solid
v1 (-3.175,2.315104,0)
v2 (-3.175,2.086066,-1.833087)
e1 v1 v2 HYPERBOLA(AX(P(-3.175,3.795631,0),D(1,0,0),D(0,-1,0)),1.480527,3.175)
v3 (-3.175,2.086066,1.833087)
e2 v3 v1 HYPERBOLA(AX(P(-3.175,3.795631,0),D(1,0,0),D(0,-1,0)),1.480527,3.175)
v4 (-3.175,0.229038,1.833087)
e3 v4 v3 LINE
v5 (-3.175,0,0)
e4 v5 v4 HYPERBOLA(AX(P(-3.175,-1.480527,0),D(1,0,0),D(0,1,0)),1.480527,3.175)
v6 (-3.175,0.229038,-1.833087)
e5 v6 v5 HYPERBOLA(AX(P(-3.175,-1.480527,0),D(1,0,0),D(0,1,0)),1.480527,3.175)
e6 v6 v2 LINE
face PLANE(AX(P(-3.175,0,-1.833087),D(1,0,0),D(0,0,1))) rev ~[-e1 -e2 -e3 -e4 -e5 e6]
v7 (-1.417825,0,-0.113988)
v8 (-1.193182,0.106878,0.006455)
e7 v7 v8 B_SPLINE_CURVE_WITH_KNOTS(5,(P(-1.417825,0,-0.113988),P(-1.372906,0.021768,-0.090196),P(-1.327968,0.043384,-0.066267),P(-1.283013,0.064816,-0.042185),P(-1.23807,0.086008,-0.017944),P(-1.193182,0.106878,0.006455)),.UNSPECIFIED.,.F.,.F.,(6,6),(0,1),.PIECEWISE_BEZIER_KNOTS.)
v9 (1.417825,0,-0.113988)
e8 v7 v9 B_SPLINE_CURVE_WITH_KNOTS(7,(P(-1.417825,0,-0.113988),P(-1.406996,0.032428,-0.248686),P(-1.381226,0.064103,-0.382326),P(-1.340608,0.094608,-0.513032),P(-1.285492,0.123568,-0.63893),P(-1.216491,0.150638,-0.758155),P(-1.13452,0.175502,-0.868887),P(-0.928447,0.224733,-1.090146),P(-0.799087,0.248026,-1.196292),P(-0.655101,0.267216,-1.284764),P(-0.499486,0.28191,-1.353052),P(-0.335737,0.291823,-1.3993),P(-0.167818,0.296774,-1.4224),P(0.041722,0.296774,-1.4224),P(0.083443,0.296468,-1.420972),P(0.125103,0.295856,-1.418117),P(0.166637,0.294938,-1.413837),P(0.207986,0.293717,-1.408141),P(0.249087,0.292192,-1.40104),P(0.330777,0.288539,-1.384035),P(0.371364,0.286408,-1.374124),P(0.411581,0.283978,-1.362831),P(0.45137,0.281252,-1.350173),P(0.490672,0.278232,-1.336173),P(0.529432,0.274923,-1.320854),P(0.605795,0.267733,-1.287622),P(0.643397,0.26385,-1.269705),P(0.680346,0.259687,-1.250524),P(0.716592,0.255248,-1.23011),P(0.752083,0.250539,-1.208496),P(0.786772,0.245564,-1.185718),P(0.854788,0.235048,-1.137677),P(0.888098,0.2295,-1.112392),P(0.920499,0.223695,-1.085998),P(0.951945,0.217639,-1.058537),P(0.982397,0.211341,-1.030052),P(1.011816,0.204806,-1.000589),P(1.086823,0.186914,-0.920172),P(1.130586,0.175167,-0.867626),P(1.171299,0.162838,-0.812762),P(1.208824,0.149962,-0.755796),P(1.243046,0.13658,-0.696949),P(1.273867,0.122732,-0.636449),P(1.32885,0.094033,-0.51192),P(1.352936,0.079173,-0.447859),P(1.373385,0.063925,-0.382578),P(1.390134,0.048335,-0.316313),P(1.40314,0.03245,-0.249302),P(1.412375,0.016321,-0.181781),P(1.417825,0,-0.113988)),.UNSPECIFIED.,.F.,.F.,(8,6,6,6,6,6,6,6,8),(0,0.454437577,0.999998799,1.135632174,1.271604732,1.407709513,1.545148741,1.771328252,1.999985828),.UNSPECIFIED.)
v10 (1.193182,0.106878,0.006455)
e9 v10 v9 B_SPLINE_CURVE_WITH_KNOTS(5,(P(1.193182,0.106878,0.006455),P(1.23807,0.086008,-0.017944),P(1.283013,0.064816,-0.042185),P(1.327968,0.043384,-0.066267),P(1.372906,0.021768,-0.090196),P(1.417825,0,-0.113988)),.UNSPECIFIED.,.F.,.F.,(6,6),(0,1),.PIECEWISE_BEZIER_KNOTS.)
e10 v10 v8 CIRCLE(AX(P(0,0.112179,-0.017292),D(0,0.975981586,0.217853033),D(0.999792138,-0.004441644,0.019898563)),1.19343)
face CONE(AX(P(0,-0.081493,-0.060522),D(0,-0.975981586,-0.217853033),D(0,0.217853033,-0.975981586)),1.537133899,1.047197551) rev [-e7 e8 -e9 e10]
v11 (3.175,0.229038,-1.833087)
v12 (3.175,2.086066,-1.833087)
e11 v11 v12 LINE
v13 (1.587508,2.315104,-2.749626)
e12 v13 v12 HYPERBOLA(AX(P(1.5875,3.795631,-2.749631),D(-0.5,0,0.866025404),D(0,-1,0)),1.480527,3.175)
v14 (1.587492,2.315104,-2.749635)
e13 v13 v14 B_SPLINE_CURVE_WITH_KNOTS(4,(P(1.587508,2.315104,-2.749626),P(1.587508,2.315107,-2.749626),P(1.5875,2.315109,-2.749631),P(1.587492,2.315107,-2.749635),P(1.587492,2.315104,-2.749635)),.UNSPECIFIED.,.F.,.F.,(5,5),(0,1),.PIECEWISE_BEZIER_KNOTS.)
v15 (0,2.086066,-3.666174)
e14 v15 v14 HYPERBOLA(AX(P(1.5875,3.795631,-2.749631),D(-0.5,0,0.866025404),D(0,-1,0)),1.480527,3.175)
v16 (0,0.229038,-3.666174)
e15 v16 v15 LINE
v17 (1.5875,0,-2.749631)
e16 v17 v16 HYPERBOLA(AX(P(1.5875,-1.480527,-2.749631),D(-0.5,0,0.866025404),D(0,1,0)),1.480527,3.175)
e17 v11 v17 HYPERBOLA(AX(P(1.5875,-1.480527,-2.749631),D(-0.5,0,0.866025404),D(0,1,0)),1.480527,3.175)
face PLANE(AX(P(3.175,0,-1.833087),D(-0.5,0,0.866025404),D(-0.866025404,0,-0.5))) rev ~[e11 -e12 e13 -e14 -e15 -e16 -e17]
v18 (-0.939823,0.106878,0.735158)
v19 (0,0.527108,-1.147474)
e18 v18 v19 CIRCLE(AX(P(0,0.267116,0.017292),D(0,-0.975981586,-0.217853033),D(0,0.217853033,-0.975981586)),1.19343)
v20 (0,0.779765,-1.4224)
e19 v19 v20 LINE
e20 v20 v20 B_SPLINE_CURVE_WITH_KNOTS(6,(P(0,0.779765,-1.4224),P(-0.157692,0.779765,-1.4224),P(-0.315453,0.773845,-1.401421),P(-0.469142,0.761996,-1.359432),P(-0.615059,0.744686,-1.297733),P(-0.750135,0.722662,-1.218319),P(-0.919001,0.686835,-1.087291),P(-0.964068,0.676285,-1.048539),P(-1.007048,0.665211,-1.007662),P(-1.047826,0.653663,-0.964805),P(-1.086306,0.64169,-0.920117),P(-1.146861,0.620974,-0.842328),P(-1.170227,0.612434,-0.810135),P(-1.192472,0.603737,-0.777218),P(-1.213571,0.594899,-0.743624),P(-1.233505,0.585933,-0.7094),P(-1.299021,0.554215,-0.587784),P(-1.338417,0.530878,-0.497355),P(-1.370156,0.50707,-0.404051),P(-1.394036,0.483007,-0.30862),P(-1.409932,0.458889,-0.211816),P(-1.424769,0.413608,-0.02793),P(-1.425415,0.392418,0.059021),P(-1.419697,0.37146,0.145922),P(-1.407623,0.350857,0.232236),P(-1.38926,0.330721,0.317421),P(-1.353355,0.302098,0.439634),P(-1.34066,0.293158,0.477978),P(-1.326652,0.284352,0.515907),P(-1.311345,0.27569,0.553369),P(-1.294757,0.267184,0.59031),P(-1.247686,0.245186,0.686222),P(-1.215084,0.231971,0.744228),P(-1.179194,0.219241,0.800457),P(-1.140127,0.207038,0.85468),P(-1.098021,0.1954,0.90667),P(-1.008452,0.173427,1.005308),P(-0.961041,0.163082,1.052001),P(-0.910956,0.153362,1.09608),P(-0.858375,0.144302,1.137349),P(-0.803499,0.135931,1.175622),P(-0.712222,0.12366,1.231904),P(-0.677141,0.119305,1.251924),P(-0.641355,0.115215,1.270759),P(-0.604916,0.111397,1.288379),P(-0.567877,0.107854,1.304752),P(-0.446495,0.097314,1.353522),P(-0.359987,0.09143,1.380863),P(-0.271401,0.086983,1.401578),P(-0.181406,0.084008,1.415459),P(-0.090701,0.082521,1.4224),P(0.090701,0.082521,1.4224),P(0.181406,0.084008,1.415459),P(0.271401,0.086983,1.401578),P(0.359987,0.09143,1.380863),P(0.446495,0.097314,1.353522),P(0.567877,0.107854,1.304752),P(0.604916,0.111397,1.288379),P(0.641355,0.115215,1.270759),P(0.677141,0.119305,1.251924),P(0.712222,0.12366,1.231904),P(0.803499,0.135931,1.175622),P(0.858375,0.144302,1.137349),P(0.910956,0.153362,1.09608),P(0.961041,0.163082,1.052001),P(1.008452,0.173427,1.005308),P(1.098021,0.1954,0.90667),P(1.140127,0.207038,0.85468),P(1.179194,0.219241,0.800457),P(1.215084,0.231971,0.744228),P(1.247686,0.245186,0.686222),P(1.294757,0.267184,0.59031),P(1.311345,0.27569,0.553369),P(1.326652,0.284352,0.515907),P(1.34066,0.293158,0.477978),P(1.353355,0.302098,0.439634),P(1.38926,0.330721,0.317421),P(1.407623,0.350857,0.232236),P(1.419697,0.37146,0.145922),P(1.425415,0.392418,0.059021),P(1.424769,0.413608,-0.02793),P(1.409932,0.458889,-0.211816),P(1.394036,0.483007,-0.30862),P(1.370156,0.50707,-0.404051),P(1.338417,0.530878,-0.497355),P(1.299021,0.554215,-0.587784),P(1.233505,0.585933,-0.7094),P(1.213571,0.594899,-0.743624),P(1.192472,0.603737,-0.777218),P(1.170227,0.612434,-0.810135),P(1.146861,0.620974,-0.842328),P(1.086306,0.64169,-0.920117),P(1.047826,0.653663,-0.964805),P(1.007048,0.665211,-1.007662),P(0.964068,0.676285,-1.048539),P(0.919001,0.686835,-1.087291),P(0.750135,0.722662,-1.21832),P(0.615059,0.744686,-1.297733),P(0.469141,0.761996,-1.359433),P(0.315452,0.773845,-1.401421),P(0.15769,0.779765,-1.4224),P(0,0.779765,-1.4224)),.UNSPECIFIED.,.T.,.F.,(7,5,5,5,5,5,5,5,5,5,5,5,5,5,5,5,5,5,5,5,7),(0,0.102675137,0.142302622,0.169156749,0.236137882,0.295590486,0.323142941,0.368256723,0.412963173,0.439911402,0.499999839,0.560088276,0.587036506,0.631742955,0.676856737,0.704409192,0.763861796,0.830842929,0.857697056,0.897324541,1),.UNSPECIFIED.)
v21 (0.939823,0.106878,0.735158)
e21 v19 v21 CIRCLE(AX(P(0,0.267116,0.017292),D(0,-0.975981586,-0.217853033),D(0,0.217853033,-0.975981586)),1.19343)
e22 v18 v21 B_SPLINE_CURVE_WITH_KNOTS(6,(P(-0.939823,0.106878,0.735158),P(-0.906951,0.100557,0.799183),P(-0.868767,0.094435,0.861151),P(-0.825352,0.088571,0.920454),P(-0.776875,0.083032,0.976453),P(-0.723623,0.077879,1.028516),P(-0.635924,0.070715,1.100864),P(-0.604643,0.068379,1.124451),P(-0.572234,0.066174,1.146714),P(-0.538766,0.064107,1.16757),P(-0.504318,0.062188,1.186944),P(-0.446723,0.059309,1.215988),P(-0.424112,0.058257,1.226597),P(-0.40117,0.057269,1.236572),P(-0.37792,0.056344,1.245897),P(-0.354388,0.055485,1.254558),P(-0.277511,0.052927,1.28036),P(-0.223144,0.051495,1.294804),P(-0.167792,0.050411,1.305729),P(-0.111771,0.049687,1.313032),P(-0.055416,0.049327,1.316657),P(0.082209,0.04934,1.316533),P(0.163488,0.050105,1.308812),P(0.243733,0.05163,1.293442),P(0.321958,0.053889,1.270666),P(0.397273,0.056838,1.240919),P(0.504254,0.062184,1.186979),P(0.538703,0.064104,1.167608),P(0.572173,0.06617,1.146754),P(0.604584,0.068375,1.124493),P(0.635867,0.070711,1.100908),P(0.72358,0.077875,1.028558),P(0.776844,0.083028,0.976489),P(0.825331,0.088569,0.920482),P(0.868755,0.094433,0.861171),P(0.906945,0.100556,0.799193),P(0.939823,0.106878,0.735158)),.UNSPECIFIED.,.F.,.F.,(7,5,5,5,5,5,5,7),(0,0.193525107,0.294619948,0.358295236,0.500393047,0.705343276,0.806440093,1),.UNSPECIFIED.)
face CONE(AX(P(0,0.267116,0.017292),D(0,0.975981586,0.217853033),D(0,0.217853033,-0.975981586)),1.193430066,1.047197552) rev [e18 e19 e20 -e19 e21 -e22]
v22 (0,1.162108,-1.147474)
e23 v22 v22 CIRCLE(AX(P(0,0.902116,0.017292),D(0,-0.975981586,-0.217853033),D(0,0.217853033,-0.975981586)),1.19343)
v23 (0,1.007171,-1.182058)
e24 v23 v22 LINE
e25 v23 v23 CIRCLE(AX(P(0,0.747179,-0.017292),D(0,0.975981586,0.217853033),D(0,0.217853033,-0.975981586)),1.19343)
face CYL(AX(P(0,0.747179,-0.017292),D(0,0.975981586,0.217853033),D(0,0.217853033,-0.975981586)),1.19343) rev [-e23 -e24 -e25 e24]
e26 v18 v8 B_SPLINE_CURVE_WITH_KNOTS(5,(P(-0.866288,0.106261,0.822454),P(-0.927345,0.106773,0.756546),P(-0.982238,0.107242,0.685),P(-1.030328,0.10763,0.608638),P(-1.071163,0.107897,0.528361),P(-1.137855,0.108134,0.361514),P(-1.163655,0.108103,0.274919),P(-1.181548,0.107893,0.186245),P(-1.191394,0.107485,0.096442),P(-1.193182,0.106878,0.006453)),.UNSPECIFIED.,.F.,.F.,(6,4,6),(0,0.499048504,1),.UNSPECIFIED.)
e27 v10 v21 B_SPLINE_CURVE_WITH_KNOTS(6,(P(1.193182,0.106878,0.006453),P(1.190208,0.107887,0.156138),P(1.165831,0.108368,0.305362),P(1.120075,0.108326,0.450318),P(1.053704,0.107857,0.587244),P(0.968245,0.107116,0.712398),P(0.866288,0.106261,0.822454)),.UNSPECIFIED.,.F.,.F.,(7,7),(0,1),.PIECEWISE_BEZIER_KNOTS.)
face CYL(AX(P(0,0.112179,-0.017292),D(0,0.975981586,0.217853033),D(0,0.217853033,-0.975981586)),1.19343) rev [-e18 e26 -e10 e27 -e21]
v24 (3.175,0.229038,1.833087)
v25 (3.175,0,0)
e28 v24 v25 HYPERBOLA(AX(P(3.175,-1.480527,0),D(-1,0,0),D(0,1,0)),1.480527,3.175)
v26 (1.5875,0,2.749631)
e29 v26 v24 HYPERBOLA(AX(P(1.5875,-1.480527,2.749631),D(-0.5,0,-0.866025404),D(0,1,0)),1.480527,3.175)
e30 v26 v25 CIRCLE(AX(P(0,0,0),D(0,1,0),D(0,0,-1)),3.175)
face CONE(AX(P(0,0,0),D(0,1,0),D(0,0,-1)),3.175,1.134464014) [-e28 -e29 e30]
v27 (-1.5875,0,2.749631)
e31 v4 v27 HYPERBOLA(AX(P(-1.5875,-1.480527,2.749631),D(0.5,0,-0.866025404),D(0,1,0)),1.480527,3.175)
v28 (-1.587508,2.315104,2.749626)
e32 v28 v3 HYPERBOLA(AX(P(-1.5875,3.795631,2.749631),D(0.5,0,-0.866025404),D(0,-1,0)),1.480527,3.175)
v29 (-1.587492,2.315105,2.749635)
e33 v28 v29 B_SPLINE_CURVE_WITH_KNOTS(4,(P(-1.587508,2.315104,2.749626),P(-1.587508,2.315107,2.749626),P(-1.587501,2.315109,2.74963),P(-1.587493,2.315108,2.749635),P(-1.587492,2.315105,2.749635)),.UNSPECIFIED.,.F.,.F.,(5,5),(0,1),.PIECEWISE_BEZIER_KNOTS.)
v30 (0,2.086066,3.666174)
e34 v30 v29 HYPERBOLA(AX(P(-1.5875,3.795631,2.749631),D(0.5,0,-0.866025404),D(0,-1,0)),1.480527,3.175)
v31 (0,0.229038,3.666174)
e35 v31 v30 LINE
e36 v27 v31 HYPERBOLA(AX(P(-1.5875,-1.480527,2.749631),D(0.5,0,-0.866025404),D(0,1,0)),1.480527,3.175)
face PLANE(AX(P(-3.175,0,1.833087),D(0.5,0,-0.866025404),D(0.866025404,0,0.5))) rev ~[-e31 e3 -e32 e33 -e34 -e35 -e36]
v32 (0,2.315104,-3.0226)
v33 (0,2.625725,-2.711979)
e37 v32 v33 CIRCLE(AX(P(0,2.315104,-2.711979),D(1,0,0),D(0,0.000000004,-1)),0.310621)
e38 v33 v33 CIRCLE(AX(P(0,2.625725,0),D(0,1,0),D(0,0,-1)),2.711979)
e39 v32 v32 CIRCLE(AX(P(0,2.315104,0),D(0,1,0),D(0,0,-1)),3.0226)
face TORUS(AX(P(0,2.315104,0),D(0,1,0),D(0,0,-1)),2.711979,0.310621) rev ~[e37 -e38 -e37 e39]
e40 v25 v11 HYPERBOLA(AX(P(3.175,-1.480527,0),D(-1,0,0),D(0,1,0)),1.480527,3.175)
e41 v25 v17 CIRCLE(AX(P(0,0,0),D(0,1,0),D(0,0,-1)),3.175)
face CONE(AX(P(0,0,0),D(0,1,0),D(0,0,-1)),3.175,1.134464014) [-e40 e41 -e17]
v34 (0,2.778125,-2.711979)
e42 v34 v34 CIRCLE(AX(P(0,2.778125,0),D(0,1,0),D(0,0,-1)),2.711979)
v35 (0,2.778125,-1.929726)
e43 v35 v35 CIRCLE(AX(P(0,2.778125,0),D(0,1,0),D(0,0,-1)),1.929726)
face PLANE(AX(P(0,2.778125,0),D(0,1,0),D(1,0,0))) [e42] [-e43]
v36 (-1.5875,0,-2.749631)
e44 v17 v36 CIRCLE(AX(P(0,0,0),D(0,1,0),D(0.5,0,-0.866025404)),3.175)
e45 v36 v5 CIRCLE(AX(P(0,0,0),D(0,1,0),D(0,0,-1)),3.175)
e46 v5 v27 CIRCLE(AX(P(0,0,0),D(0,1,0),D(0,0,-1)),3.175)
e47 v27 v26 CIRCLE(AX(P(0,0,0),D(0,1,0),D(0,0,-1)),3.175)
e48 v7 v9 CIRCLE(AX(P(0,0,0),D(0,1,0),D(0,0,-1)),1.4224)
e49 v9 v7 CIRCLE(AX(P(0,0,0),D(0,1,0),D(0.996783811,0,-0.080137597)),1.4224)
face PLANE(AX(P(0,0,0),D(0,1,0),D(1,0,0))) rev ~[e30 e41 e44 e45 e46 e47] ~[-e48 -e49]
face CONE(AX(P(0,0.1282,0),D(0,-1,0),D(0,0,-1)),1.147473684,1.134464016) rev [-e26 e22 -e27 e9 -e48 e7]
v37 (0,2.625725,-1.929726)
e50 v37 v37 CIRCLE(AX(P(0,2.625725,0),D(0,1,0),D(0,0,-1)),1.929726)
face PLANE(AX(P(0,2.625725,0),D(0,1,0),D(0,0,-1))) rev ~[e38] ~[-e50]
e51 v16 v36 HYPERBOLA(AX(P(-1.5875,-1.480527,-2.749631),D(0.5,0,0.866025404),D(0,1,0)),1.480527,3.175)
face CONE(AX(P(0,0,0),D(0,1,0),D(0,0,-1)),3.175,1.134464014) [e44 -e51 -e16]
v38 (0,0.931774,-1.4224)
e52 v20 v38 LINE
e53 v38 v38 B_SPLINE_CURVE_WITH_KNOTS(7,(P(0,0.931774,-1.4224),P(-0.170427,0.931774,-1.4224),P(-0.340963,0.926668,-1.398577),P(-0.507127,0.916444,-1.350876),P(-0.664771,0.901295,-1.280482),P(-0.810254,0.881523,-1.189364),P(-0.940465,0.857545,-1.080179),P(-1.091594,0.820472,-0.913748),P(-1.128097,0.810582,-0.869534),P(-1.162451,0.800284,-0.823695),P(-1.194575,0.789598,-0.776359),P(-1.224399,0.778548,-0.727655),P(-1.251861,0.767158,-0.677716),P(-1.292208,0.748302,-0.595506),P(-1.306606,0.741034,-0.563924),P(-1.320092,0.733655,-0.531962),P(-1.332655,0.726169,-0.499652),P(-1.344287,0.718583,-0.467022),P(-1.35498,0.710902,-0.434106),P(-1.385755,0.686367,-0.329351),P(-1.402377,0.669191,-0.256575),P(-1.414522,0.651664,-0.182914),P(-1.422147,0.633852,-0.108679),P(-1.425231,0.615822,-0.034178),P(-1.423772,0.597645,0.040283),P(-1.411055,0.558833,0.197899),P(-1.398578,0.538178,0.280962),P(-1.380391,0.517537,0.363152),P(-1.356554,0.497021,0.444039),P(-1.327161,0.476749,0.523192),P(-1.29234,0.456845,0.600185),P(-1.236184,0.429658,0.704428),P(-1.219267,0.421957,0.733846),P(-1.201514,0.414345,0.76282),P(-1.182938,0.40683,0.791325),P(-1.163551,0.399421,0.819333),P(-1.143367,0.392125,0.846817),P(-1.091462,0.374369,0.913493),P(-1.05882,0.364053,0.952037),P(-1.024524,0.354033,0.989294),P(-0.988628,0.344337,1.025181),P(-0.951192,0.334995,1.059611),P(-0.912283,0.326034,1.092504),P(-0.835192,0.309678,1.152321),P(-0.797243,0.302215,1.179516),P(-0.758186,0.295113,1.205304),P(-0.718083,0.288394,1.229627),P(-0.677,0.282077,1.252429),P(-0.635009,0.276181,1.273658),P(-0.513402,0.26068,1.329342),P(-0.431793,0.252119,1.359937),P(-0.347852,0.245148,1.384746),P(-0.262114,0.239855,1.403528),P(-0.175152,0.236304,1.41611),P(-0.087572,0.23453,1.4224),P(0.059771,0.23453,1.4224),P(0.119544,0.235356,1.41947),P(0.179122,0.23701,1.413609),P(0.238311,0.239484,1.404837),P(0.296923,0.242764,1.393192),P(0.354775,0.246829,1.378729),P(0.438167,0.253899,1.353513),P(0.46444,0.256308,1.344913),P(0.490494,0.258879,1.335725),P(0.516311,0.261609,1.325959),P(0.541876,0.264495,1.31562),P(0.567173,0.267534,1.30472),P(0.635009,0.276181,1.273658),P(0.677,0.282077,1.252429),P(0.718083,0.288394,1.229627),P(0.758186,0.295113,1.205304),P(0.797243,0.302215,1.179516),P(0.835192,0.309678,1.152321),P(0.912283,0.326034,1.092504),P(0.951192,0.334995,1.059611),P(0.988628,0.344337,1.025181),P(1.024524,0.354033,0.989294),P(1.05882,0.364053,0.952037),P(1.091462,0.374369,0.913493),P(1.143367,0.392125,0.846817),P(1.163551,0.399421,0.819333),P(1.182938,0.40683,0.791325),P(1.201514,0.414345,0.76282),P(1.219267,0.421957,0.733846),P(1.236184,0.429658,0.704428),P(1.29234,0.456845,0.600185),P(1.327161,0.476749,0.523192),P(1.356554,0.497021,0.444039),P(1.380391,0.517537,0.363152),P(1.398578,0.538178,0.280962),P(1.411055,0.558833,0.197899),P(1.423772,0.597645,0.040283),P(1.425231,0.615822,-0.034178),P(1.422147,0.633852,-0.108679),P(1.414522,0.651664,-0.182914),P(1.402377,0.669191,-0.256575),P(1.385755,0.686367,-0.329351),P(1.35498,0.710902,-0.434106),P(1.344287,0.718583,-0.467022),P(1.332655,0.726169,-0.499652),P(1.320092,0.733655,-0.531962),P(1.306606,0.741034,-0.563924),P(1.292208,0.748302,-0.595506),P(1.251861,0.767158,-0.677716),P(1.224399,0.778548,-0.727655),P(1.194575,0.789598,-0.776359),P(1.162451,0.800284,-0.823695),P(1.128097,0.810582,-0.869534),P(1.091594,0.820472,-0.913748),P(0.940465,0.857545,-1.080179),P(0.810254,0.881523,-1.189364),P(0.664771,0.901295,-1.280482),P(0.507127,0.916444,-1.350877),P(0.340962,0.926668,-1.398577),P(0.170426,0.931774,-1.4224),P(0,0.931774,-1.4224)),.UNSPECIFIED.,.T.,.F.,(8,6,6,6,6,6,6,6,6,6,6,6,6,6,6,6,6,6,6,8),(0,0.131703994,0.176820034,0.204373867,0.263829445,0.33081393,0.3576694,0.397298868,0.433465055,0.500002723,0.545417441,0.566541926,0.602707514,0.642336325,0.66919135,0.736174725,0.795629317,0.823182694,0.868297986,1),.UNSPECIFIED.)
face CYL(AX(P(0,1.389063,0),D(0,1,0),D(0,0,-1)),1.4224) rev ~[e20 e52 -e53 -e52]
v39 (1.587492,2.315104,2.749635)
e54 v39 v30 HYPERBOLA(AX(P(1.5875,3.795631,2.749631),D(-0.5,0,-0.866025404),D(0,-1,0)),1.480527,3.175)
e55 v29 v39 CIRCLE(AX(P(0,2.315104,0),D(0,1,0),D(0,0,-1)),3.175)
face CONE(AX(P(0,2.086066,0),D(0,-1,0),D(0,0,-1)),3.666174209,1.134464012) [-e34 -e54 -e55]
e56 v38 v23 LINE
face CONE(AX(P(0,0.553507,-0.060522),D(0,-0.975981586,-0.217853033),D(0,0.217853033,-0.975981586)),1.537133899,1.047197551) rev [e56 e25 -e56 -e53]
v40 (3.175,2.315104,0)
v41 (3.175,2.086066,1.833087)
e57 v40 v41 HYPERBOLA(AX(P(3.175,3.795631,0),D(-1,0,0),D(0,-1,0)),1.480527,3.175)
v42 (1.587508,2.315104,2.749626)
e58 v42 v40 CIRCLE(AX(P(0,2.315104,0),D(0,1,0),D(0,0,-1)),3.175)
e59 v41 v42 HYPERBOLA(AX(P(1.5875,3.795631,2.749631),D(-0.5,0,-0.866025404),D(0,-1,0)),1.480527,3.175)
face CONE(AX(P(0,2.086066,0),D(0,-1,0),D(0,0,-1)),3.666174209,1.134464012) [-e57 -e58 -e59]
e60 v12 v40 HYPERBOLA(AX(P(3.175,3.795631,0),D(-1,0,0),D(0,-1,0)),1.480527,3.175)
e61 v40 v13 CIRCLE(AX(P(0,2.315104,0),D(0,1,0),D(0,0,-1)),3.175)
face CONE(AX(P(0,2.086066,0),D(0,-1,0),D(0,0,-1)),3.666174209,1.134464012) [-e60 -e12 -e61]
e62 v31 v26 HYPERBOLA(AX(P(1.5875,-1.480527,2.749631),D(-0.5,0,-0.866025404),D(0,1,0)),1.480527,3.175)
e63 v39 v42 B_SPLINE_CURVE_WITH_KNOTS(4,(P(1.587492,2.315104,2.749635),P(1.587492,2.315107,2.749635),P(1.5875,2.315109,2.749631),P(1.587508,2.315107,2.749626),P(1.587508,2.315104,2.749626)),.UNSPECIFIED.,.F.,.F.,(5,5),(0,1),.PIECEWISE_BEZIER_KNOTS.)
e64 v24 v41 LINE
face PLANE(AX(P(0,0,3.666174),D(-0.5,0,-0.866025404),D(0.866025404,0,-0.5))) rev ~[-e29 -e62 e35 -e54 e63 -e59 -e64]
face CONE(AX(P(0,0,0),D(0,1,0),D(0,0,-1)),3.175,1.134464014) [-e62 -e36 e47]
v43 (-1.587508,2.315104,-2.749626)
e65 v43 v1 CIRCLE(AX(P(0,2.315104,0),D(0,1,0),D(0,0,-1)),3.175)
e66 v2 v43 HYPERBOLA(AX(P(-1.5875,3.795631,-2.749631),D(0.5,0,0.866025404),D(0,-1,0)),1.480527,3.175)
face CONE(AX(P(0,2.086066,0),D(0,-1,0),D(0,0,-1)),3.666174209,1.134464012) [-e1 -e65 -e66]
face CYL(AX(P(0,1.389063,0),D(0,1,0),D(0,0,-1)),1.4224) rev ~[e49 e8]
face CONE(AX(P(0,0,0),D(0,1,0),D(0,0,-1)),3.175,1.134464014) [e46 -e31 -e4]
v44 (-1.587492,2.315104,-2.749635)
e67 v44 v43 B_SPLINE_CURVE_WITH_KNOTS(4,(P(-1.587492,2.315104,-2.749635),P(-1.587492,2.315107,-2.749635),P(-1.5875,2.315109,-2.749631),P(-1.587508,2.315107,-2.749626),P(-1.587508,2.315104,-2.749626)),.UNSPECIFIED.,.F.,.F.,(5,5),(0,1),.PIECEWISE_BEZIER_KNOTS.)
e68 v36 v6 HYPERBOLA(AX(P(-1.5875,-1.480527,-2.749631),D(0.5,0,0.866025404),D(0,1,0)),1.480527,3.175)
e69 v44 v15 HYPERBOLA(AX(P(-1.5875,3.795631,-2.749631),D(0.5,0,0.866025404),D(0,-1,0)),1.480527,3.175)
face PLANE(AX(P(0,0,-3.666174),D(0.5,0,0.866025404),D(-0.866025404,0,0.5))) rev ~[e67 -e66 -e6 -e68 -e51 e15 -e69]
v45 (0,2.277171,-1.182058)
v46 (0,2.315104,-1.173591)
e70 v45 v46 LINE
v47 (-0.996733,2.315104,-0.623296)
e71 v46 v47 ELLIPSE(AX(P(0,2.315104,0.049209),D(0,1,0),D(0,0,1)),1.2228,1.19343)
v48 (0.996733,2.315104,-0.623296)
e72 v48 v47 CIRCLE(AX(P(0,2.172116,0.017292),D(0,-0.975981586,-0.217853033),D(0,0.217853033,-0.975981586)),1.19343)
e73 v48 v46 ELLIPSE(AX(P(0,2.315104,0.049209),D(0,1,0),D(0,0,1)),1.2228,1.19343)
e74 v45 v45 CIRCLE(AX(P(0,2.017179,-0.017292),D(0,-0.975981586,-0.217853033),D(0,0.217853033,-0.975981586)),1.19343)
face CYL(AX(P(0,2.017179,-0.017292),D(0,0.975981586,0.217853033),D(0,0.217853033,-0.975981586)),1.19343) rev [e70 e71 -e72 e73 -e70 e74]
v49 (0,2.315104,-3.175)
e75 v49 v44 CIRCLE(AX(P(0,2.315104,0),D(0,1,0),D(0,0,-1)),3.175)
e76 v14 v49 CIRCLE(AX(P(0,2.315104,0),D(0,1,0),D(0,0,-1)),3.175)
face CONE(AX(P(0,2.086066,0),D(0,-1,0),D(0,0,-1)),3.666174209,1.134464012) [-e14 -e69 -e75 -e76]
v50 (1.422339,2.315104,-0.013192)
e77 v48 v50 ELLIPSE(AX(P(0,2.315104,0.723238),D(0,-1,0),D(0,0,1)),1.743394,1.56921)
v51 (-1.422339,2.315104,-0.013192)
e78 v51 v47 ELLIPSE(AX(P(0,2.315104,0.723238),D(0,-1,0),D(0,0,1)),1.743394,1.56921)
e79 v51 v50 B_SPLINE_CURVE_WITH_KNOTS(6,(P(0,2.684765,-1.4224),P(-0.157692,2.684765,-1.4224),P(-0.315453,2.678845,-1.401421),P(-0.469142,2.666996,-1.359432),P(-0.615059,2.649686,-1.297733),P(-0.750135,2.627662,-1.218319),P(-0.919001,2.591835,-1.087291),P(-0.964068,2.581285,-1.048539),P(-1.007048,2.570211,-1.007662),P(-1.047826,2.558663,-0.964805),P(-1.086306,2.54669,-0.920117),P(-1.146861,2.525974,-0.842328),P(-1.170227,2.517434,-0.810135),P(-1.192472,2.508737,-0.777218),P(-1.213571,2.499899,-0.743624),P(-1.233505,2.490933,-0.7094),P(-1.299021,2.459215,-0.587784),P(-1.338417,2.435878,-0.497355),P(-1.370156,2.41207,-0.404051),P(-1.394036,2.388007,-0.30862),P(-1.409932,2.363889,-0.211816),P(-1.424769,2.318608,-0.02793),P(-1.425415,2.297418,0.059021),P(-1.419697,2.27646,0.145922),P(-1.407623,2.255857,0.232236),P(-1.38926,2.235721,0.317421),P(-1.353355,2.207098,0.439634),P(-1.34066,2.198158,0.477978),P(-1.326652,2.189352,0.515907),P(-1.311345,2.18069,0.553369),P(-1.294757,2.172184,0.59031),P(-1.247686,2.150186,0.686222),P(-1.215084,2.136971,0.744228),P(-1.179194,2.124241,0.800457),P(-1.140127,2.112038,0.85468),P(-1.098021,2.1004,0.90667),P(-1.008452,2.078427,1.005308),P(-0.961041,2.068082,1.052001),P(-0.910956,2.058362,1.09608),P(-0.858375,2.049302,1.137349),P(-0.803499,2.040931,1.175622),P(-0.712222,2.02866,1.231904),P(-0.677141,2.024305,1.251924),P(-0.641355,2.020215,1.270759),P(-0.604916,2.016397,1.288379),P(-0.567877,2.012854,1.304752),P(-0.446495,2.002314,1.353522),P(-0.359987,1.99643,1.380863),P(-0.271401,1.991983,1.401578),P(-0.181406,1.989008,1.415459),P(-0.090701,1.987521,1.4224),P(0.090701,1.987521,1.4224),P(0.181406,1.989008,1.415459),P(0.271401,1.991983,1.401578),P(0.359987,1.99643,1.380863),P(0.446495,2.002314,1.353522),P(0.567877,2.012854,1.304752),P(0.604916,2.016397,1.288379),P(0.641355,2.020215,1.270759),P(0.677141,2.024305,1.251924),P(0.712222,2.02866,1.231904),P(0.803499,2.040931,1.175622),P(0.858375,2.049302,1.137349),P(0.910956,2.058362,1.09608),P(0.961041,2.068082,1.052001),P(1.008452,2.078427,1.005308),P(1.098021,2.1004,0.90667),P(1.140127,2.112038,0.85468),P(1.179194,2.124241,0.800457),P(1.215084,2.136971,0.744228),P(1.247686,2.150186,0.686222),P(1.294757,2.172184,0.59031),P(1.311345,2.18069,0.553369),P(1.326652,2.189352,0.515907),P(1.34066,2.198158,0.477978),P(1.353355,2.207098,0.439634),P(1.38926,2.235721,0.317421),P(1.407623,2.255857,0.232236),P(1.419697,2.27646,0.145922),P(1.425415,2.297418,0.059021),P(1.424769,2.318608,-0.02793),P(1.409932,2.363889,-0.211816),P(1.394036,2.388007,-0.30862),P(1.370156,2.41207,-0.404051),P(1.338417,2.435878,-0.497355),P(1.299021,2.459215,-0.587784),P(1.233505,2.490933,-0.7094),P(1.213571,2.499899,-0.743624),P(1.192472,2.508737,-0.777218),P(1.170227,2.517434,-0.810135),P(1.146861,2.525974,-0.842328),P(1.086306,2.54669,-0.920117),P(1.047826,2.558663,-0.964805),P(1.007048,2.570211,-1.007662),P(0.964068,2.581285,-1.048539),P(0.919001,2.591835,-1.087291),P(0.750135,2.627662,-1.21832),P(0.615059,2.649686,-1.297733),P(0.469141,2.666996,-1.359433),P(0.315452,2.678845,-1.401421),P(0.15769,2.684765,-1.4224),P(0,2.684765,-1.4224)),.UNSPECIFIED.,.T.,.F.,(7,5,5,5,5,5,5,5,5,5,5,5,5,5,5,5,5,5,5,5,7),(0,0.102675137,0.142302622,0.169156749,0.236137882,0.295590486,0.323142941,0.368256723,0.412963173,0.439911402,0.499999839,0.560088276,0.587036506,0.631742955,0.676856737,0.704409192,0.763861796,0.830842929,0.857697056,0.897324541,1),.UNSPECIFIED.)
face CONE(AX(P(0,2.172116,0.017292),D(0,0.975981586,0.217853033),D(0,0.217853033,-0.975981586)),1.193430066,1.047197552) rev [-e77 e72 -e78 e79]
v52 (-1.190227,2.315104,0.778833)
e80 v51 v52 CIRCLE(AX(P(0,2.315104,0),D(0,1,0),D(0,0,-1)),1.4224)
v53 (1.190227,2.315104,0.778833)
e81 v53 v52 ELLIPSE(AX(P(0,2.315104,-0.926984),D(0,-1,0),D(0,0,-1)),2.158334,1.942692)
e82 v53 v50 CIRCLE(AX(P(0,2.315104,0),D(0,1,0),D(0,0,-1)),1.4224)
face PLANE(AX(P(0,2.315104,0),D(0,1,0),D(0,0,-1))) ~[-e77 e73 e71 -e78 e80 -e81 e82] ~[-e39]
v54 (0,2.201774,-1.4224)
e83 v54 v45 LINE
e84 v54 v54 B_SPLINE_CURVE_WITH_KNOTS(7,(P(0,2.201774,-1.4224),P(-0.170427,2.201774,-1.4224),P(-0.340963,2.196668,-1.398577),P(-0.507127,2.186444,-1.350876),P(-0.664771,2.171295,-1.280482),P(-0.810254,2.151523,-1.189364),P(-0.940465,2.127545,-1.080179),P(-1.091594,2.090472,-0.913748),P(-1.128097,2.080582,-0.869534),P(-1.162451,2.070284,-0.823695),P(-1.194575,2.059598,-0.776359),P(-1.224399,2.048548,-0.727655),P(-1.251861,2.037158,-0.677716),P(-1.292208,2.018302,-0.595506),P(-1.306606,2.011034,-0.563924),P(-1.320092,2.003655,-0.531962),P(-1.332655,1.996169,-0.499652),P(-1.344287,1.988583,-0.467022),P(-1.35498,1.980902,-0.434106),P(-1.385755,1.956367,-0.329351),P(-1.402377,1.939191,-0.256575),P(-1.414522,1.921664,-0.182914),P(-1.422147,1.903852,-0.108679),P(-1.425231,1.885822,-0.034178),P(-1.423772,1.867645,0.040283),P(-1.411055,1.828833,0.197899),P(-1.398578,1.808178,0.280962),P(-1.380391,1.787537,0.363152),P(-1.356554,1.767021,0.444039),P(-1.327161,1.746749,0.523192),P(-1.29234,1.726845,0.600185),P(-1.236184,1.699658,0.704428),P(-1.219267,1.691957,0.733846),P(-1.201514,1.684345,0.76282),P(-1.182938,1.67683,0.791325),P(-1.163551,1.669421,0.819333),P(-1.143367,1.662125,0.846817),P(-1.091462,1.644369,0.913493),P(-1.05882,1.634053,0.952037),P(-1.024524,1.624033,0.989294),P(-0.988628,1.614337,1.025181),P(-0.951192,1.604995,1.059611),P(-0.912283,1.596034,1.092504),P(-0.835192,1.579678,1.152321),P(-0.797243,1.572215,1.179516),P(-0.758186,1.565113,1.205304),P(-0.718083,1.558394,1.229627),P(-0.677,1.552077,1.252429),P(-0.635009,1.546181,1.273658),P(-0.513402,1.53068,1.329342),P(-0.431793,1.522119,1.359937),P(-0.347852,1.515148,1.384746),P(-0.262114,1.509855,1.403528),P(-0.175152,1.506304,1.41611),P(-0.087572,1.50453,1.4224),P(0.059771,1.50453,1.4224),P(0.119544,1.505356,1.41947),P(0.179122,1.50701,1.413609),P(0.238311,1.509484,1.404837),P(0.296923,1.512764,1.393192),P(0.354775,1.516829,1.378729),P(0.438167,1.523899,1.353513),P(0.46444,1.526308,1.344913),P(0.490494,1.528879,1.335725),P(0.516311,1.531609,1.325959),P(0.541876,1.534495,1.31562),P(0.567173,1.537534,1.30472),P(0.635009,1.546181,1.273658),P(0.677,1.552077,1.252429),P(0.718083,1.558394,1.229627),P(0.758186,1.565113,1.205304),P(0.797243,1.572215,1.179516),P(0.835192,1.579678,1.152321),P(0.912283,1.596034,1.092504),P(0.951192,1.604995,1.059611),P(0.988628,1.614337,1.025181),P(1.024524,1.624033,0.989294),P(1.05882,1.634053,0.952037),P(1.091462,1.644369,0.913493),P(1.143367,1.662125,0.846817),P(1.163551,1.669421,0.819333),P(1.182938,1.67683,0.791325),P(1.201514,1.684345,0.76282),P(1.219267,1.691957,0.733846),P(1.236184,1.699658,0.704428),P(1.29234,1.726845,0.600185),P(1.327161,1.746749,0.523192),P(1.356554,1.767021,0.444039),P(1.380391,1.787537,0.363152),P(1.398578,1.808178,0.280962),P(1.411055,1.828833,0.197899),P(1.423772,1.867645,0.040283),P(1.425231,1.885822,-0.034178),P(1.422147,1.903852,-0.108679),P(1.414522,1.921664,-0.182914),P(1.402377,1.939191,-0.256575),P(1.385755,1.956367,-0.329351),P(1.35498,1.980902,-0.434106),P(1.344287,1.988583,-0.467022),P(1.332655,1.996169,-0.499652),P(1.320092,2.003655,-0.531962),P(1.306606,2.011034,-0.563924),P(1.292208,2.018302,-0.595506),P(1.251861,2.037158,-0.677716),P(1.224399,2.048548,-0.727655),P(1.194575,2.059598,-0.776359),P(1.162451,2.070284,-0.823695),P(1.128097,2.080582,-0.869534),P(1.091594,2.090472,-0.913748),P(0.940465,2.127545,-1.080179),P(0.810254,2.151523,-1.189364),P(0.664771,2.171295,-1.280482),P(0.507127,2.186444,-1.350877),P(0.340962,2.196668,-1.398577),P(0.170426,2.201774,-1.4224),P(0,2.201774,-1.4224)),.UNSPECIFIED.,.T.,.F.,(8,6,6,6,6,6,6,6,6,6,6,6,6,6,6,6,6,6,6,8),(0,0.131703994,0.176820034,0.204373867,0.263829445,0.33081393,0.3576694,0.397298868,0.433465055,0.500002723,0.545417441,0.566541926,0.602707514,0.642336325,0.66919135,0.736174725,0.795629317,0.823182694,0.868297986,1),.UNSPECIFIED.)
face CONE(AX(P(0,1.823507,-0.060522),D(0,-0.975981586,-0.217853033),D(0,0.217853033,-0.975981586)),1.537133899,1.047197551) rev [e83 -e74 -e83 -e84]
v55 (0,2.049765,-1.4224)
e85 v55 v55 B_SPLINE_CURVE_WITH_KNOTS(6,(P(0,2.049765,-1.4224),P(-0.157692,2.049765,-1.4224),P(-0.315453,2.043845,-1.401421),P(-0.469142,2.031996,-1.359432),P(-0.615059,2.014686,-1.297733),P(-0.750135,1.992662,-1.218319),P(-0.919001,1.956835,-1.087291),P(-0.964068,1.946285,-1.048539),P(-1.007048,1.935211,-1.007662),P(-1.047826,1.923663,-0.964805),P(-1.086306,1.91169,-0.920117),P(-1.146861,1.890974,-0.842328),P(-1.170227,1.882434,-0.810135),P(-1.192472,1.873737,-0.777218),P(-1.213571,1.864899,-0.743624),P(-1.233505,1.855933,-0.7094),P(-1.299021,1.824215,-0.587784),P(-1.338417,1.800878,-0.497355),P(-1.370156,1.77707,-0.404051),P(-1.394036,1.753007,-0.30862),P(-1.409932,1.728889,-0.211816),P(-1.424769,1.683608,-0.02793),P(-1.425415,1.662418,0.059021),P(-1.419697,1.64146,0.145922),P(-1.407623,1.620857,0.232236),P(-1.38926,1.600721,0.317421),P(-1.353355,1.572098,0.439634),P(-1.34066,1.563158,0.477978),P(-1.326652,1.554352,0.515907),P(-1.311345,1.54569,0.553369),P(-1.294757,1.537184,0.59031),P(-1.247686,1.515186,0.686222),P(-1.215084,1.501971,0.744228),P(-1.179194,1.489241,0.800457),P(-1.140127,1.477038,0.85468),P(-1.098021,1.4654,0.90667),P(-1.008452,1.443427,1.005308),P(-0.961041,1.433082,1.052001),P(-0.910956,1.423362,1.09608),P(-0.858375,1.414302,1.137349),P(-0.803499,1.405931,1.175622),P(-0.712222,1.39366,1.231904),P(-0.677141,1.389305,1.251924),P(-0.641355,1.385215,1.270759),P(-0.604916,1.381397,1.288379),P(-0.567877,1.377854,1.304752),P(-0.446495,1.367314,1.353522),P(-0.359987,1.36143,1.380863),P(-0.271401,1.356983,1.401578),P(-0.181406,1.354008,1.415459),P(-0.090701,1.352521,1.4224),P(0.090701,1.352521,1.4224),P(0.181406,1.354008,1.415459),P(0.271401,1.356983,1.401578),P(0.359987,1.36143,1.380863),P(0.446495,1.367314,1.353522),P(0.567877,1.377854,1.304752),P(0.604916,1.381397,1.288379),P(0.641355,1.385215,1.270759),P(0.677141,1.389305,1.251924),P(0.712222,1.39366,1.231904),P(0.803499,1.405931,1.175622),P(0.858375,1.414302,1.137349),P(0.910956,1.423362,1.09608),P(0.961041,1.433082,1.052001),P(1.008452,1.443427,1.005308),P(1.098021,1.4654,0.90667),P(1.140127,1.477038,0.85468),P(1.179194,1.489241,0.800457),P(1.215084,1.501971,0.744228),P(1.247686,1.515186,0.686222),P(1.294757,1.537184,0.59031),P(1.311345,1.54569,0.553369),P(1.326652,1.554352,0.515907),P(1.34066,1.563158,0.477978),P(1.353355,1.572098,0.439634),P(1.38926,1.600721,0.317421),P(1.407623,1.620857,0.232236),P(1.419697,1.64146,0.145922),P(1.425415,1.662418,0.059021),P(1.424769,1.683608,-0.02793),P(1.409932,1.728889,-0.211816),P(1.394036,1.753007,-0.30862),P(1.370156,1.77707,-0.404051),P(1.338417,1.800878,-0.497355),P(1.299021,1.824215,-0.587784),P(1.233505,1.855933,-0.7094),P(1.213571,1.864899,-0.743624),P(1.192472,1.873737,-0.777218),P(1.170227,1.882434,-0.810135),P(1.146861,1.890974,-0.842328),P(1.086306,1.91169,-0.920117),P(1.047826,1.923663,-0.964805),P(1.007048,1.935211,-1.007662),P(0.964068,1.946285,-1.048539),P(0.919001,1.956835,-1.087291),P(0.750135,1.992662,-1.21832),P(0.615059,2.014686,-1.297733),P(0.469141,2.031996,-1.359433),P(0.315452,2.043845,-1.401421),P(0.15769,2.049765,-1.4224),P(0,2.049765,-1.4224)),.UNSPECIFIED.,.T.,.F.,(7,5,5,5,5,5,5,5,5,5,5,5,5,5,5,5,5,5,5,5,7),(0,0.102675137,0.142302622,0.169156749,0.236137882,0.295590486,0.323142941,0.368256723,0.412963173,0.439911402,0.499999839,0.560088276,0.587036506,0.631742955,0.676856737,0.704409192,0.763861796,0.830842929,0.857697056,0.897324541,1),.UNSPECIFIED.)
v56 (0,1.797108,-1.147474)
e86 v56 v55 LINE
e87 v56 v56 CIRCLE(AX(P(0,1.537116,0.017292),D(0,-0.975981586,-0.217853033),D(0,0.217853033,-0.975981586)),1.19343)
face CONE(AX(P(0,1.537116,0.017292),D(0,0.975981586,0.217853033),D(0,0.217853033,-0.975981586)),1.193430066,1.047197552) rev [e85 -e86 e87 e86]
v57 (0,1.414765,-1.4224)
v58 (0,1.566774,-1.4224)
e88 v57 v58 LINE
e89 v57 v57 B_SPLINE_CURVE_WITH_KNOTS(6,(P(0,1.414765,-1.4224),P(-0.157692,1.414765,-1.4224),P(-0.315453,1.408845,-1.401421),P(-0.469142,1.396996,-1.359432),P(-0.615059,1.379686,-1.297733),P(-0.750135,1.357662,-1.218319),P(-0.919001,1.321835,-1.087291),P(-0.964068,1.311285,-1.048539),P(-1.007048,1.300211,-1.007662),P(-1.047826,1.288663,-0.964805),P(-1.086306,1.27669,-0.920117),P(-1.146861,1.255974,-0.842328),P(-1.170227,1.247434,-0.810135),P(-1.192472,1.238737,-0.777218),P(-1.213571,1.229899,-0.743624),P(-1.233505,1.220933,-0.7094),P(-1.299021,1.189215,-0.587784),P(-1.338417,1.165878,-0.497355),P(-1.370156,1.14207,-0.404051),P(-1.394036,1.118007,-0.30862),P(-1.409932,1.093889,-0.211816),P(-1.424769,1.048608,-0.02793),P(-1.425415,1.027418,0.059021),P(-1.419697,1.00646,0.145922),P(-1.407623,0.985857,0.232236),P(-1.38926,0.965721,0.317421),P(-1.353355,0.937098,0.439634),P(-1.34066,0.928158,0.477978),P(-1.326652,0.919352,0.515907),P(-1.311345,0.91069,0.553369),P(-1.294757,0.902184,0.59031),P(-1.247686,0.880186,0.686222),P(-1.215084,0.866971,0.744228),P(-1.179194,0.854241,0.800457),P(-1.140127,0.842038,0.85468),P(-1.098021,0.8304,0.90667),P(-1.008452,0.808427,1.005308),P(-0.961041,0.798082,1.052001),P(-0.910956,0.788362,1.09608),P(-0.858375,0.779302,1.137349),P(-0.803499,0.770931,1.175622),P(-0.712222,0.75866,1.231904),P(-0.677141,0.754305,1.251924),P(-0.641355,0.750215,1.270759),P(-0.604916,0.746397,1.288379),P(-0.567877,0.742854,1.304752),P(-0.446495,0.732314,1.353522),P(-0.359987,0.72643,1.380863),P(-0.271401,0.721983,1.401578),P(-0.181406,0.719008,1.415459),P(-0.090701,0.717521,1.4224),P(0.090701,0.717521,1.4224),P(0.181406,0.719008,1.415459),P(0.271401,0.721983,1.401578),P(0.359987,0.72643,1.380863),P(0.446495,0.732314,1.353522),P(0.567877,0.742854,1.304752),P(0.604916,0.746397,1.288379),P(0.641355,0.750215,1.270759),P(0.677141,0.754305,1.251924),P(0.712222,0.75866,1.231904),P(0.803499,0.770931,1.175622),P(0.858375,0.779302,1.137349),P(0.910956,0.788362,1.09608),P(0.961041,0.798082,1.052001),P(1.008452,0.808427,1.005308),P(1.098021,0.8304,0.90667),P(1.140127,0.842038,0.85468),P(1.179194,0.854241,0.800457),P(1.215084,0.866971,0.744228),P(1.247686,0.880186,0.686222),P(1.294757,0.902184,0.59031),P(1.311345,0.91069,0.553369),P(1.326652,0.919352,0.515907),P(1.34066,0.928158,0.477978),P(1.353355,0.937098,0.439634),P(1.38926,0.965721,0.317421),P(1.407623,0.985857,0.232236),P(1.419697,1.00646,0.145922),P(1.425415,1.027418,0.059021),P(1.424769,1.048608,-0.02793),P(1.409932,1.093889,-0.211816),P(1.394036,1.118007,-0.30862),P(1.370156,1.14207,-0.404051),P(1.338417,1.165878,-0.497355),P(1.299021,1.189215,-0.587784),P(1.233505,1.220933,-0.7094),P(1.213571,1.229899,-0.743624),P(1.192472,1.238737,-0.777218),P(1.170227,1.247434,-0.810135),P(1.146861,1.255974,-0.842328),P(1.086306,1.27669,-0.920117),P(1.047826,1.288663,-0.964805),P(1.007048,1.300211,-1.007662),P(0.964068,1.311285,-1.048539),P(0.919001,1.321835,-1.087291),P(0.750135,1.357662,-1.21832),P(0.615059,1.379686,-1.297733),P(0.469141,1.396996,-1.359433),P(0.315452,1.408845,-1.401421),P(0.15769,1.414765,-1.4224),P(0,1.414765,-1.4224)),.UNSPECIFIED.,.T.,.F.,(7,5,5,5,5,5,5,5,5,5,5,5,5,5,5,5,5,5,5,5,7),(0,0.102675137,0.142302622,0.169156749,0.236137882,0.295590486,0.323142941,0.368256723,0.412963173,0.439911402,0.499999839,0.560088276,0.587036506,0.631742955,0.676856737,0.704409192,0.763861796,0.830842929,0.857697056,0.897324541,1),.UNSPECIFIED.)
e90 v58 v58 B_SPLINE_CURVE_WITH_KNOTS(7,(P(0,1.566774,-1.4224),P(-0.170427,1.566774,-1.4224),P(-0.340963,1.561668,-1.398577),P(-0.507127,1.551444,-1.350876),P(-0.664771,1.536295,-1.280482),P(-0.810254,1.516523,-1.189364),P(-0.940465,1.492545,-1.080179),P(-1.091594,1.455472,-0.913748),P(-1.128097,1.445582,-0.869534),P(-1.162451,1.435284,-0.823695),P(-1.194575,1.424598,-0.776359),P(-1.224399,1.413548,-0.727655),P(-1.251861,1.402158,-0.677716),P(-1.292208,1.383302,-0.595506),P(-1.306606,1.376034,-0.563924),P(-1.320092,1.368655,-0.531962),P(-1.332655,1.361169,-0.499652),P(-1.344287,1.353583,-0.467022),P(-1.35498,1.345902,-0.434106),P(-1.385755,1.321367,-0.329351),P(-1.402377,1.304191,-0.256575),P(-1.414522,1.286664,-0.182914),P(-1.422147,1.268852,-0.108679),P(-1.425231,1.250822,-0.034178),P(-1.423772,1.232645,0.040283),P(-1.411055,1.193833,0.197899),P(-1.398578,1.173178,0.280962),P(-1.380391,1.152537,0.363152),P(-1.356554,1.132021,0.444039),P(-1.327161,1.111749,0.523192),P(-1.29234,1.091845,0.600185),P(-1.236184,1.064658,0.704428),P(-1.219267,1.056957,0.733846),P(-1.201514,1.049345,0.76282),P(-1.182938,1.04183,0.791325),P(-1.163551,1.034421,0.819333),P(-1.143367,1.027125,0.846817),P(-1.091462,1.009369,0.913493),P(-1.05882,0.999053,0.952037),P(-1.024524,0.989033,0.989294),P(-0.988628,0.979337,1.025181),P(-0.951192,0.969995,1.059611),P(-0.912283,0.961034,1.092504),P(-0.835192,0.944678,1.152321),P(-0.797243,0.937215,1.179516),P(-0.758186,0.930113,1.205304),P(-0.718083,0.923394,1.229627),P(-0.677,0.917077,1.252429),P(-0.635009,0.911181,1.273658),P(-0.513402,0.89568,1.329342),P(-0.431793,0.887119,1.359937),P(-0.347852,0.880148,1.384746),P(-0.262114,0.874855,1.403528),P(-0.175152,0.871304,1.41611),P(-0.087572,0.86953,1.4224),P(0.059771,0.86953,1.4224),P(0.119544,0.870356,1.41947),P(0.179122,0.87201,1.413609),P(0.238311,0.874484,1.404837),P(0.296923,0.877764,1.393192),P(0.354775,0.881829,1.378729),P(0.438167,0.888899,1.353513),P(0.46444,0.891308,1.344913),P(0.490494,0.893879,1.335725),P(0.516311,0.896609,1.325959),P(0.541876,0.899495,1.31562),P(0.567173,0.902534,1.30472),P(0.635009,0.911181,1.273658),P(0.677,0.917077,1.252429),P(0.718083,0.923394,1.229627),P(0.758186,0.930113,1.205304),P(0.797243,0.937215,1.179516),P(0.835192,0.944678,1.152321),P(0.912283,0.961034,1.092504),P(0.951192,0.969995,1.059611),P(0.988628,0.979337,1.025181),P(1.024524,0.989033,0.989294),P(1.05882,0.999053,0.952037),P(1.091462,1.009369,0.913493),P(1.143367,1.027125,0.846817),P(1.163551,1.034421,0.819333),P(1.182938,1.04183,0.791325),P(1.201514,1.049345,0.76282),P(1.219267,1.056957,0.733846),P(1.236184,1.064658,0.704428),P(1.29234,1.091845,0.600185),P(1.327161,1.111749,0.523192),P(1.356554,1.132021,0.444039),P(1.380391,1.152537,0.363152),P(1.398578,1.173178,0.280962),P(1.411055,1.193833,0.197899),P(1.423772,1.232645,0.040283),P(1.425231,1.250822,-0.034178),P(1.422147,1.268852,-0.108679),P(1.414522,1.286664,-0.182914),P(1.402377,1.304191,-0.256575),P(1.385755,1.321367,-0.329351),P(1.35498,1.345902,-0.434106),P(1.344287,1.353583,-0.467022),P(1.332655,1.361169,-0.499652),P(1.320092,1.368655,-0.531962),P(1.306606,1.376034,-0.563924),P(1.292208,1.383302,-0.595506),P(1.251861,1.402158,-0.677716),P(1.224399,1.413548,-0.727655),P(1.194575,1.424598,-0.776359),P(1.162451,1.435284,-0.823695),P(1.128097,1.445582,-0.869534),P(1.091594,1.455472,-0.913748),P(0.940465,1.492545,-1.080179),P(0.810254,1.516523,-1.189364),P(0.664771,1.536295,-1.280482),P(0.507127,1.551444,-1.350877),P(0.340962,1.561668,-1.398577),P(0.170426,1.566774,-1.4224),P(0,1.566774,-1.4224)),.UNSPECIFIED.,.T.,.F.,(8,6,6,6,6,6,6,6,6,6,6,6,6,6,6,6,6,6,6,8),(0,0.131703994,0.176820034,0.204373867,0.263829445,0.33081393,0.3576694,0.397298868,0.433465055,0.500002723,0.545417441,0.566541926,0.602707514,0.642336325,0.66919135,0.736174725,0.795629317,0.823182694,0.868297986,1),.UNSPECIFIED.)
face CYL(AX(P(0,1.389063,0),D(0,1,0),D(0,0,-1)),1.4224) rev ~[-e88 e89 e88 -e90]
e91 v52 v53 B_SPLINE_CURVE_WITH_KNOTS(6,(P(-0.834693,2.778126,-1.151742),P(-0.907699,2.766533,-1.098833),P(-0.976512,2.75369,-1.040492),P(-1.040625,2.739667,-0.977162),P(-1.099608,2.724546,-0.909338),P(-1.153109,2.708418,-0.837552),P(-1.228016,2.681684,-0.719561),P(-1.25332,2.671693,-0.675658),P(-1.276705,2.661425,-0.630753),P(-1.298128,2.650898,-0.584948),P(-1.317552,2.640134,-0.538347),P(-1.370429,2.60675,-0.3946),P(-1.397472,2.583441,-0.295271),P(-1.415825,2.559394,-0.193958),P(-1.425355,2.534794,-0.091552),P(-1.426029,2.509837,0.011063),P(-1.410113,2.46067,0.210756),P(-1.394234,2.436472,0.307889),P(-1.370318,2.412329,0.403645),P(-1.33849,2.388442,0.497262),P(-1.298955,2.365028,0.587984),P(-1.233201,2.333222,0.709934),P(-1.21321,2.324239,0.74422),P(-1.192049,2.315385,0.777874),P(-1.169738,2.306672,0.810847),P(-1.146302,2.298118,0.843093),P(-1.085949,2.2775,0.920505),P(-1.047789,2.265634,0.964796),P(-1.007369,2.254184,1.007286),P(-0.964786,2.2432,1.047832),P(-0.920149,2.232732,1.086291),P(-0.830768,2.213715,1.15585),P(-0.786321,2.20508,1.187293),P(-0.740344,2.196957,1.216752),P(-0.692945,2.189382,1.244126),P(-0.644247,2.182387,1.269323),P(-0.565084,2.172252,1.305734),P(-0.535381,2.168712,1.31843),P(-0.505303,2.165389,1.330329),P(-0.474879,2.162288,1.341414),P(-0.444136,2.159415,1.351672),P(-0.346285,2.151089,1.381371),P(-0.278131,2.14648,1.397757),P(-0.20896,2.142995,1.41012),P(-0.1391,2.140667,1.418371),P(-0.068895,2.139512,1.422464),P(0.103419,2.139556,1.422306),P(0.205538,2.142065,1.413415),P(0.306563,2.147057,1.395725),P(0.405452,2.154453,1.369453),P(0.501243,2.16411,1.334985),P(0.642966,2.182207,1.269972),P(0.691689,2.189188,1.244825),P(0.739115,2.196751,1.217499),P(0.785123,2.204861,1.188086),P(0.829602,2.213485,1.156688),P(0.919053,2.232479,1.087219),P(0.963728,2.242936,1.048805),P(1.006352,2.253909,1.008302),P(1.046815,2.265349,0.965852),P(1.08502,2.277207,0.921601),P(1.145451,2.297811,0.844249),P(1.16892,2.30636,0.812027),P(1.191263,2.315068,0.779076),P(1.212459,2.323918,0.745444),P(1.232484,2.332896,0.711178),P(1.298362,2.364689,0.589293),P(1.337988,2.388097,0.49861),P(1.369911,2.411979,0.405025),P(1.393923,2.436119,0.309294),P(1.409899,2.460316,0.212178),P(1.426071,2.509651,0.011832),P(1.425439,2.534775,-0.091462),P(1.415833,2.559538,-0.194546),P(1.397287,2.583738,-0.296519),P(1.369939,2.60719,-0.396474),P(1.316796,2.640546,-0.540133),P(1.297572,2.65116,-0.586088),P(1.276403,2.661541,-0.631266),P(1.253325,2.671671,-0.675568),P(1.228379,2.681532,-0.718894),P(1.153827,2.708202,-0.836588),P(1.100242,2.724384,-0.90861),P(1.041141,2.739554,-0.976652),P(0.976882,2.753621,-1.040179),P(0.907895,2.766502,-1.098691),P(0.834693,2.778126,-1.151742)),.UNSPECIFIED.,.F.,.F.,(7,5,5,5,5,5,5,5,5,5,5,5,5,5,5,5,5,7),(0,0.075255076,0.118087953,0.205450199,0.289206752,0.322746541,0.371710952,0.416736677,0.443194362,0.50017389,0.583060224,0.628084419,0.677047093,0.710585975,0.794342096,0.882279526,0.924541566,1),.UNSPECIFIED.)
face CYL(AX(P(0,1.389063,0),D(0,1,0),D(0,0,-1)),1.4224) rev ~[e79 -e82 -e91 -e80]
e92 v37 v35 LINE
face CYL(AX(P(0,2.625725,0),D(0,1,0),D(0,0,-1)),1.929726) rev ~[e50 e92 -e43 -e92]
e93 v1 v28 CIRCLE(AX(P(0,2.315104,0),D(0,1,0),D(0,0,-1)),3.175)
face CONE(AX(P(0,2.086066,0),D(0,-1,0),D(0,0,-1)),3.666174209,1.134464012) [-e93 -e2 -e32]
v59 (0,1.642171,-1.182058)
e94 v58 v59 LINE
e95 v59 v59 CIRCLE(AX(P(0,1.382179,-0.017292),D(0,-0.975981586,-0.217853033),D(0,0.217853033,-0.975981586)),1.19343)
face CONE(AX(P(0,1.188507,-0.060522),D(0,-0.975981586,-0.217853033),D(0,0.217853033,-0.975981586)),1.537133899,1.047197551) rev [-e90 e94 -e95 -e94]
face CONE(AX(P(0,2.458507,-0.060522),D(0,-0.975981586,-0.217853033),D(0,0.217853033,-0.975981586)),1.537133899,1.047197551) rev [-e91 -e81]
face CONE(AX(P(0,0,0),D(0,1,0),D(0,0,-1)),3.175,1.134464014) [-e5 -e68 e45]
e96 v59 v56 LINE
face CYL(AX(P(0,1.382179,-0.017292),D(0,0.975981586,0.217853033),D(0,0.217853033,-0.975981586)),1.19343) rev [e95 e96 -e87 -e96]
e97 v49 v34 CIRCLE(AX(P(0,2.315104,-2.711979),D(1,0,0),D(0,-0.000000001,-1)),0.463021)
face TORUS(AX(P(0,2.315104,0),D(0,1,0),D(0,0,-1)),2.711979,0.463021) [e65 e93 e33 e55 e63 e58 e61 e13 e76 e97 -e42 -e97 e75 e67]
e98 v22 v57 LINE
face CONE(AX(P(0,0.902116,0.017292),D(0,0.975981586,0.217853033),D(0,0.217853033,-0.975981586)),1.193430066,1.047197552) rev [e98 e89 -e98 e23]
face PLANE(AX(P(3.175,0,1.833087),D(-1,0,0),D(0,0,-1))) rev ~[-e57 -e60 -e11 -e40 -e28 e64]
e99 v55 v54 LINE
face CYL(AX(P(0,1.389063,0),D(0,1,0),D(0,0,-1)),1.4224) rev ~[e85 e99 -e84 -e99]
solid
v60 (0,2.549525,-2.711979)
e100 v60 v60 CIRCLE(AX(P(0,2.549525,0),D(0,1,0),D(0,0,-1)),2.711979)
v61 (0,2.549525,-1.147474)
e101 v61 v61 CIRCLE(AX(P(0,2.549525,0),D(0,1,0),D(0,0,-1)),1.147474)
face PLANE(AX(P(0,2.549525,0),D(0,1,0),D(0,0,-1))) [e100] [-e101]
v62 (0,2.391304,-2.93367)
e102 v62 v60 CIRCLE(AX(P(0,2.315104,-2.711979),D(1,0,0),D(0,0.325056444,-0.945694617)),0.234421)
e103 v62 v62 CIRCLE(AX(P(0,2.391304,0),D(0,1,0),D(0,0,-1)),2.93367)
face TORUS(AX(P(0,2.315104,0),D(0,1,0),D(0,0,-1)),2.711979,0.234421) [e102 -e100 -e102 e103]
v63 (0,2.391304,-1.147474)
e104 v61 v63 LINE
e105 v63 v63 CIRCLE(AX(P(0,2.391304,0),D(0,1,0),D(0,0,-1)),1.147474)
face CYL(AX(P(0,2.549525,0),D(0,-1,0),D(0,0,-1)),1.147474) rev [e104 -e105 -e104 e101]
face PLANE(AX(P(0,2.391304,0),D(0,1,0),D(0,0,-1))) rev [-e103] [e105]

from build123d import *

# Parameters (mm, degrees)
EXTRUDE1_DEPTH      = 2.778125
SKETCH2_W           = 1.4224
SKETCH2_H           = 2.778125
LPATTERN1_COUNT     = 4
LPATTERN1_PITCH     = 0.635
LPATTERN1_COL_COUNT = 2
LPATTERN1_COL_PITCH = 0.635


with BuildPart() as part:
    # Sketch1 → Extrude1 (new body)
    with BuildSketch(Plane(origin=(0, 0, 0), x_dir=(1, 0, 0), z_dir=(0, 1, 0))):
        Polygon((0, 3.666174209), (-3.175, 1.833087105), (-3.175, -1.833087105), (0, -3.666174209), (3.175, -1.833087105), (3.175, 1.833087105), align=None)
    extrude(amount=EXTRUDE1_DEPTH)

    # Sketch4 → Cut-Revolve2 (revolve, cut)
    with BuildSketch(Plane(origin=(0, 0, 0), x_dir=(0, 0, -1), z_dir=(1, 0, 0))):
        Polygon((0, 2.778125), (1.4224, 2.778125), (1.147473684, 2.649924754), (1.147473684, 0.128200246), (1.4224, 0), (0, 0), align=None)
    revolve(axis=Axis((0, 2.778125, 0), (0, 1, 0)), mode=Mode.SUBTRACT)


with BuildPart() as body_2:
    # Sketch2 → Revolve1 (revolve)
    with BuildSketch(Plane(origin=(0, 0, 0), x_dir=(0, 0, -1), z_dir=(1, 0, 0))):
        with Locations((0.7112, 1.3890625)):
            Rectangle(SKETCH2_W, SKETCH2_H)
    revolve(axis=Axis((0, -1.4224, 0), (0, 1, 0)))

    # Sketch3 → Cut-Revolve1 (revolve, cut)
    with BuildSketch(Plane(origin=(0, 0, 0), x_dir=(0, 0, -1), z_dir=(1, 0, 0))):
        Polygon((1.439692084, 2.700656462), (1.560736676, 2.158376693), (1.182057853, 2.277171117), (1.147473684, 2.432108194), align=None)
    cut_revolve1 = revolve(axis=Axis((0, 2.778125, 0.152561988), (0, -0.975981586, -0.217853033)), mode=Mode.SUBTRACT)

    # LPattern1: Cut-Revolve1 ×4
    with Locations(*[(0, -i * LPATTERN1_PITCH, 0) for i in range(1, LPATTERN1_COUNT)]):
        add(cut_revolve1, mode=Mode.SUBTRACT)

    # LPattern1 col: Cut-Revolve1 ×2
    with Locations(*[(0, i * LPATTERN1_COL_PITCH, 0) for i in range(1, LPATTERN1_COL_COUNT)]):
        add(cut_revolve1, mode=Mode.SUBTRACT)


with BuildPart() as part_1:
    add(part.part)

    # Combine1: cut body 2
    add(body_2.part, mode=Mode.SUBTRACT)

    # Sketch5 → Cut-Revolve3 (revolve, cut)
    with BuildSketch(Plane(origin=(0, 0, 0), x_dir=(0, 0, -1), z_dir=(1, 0, 0))):
        with BuildLine():
            Line((0, 0), (3.175, 0))
            Line((3.175, 0), (3.666174209, 0.229038295))
            Line((3.666174209, 0.229038295), (3.666174209, 2.086065871))
            Line((3.666174209, 2.086065871), (3.175, 2.315104167))
            ThreePointArc((3.175, 2.315104167), (3.039384338, 2.642509338), (2.711979167, 2.778125))
            Line((2.711979167, 2.778125), (2.711979167, 4.048125))
            Line((2.711979167, 4.048125), (4.936174209, 4.048125))
            Line((4.936174209, 4.048125), (4.936174209, -1.27))
            Line((4.936174209, -1.27), (0, -1.27))
            Line((0, -1.27), (0, 0))
        make_face()
    revolve(axis=Axis((0, 0, 0), (0, 1, 0)), mode=Mode.SUBTRACT)

    # Sketch6 → Cut-Revolve4 (revolve, cut)
    with BuildSketch(Plane(origin=(0, 0, 0), x_dir=(0, 0, -1), z_dir=(1, 0, 0))):
        with BuildLine():
            Line((0, 2.315104167), (3.0226, 2.315104167))
            ThreePointArc((3.0226, 2.315104167), (2.931621264, 2.534746264), (2.711979167, 2.625725))
            Line((2.711979167, 2.625725), (1.929726426, 2.625725))
            Line((1.929726426, 2.625725), (1.929726426, 4.048125))
            Line((1.929726426, 4.048125), (0, 4.048125))
            Line((0, 4.048125), (0, 2.315104167))
        make_face()
    revolve(axis=Axis((0, 4.048125, 0), (0, 1, 0)), mode=Mode.SUBTRACT)


with BuildPart() as body_2_2:
    # Sketch7 → Revolve2 (revolve)
    with BuildSketch(Plane(origin=(0, 0, 0), x_dir=(0, 0, -1), z_dir=(1, 0, 0))):
        with BuildLine():
            Line((1.147473684, 2.391304167), (2.933669688, 2.391304167))
            ThreePointArc((2.933669688, 2.391304167), (2.848159671, 2.505912964), (2.711979167, 2.549525))
            Line((2.711979167, 2.549525), (1.147473684, 2.549525))
            Line((1.147473684, 2.549525), (1.147473684, 2.391304167))
        make_face()
    revolve(axis=Axis((0, 2.391304167, 0), (0, 1, 0)))


solid = Compound([part_1.part, body_2_2.part])
